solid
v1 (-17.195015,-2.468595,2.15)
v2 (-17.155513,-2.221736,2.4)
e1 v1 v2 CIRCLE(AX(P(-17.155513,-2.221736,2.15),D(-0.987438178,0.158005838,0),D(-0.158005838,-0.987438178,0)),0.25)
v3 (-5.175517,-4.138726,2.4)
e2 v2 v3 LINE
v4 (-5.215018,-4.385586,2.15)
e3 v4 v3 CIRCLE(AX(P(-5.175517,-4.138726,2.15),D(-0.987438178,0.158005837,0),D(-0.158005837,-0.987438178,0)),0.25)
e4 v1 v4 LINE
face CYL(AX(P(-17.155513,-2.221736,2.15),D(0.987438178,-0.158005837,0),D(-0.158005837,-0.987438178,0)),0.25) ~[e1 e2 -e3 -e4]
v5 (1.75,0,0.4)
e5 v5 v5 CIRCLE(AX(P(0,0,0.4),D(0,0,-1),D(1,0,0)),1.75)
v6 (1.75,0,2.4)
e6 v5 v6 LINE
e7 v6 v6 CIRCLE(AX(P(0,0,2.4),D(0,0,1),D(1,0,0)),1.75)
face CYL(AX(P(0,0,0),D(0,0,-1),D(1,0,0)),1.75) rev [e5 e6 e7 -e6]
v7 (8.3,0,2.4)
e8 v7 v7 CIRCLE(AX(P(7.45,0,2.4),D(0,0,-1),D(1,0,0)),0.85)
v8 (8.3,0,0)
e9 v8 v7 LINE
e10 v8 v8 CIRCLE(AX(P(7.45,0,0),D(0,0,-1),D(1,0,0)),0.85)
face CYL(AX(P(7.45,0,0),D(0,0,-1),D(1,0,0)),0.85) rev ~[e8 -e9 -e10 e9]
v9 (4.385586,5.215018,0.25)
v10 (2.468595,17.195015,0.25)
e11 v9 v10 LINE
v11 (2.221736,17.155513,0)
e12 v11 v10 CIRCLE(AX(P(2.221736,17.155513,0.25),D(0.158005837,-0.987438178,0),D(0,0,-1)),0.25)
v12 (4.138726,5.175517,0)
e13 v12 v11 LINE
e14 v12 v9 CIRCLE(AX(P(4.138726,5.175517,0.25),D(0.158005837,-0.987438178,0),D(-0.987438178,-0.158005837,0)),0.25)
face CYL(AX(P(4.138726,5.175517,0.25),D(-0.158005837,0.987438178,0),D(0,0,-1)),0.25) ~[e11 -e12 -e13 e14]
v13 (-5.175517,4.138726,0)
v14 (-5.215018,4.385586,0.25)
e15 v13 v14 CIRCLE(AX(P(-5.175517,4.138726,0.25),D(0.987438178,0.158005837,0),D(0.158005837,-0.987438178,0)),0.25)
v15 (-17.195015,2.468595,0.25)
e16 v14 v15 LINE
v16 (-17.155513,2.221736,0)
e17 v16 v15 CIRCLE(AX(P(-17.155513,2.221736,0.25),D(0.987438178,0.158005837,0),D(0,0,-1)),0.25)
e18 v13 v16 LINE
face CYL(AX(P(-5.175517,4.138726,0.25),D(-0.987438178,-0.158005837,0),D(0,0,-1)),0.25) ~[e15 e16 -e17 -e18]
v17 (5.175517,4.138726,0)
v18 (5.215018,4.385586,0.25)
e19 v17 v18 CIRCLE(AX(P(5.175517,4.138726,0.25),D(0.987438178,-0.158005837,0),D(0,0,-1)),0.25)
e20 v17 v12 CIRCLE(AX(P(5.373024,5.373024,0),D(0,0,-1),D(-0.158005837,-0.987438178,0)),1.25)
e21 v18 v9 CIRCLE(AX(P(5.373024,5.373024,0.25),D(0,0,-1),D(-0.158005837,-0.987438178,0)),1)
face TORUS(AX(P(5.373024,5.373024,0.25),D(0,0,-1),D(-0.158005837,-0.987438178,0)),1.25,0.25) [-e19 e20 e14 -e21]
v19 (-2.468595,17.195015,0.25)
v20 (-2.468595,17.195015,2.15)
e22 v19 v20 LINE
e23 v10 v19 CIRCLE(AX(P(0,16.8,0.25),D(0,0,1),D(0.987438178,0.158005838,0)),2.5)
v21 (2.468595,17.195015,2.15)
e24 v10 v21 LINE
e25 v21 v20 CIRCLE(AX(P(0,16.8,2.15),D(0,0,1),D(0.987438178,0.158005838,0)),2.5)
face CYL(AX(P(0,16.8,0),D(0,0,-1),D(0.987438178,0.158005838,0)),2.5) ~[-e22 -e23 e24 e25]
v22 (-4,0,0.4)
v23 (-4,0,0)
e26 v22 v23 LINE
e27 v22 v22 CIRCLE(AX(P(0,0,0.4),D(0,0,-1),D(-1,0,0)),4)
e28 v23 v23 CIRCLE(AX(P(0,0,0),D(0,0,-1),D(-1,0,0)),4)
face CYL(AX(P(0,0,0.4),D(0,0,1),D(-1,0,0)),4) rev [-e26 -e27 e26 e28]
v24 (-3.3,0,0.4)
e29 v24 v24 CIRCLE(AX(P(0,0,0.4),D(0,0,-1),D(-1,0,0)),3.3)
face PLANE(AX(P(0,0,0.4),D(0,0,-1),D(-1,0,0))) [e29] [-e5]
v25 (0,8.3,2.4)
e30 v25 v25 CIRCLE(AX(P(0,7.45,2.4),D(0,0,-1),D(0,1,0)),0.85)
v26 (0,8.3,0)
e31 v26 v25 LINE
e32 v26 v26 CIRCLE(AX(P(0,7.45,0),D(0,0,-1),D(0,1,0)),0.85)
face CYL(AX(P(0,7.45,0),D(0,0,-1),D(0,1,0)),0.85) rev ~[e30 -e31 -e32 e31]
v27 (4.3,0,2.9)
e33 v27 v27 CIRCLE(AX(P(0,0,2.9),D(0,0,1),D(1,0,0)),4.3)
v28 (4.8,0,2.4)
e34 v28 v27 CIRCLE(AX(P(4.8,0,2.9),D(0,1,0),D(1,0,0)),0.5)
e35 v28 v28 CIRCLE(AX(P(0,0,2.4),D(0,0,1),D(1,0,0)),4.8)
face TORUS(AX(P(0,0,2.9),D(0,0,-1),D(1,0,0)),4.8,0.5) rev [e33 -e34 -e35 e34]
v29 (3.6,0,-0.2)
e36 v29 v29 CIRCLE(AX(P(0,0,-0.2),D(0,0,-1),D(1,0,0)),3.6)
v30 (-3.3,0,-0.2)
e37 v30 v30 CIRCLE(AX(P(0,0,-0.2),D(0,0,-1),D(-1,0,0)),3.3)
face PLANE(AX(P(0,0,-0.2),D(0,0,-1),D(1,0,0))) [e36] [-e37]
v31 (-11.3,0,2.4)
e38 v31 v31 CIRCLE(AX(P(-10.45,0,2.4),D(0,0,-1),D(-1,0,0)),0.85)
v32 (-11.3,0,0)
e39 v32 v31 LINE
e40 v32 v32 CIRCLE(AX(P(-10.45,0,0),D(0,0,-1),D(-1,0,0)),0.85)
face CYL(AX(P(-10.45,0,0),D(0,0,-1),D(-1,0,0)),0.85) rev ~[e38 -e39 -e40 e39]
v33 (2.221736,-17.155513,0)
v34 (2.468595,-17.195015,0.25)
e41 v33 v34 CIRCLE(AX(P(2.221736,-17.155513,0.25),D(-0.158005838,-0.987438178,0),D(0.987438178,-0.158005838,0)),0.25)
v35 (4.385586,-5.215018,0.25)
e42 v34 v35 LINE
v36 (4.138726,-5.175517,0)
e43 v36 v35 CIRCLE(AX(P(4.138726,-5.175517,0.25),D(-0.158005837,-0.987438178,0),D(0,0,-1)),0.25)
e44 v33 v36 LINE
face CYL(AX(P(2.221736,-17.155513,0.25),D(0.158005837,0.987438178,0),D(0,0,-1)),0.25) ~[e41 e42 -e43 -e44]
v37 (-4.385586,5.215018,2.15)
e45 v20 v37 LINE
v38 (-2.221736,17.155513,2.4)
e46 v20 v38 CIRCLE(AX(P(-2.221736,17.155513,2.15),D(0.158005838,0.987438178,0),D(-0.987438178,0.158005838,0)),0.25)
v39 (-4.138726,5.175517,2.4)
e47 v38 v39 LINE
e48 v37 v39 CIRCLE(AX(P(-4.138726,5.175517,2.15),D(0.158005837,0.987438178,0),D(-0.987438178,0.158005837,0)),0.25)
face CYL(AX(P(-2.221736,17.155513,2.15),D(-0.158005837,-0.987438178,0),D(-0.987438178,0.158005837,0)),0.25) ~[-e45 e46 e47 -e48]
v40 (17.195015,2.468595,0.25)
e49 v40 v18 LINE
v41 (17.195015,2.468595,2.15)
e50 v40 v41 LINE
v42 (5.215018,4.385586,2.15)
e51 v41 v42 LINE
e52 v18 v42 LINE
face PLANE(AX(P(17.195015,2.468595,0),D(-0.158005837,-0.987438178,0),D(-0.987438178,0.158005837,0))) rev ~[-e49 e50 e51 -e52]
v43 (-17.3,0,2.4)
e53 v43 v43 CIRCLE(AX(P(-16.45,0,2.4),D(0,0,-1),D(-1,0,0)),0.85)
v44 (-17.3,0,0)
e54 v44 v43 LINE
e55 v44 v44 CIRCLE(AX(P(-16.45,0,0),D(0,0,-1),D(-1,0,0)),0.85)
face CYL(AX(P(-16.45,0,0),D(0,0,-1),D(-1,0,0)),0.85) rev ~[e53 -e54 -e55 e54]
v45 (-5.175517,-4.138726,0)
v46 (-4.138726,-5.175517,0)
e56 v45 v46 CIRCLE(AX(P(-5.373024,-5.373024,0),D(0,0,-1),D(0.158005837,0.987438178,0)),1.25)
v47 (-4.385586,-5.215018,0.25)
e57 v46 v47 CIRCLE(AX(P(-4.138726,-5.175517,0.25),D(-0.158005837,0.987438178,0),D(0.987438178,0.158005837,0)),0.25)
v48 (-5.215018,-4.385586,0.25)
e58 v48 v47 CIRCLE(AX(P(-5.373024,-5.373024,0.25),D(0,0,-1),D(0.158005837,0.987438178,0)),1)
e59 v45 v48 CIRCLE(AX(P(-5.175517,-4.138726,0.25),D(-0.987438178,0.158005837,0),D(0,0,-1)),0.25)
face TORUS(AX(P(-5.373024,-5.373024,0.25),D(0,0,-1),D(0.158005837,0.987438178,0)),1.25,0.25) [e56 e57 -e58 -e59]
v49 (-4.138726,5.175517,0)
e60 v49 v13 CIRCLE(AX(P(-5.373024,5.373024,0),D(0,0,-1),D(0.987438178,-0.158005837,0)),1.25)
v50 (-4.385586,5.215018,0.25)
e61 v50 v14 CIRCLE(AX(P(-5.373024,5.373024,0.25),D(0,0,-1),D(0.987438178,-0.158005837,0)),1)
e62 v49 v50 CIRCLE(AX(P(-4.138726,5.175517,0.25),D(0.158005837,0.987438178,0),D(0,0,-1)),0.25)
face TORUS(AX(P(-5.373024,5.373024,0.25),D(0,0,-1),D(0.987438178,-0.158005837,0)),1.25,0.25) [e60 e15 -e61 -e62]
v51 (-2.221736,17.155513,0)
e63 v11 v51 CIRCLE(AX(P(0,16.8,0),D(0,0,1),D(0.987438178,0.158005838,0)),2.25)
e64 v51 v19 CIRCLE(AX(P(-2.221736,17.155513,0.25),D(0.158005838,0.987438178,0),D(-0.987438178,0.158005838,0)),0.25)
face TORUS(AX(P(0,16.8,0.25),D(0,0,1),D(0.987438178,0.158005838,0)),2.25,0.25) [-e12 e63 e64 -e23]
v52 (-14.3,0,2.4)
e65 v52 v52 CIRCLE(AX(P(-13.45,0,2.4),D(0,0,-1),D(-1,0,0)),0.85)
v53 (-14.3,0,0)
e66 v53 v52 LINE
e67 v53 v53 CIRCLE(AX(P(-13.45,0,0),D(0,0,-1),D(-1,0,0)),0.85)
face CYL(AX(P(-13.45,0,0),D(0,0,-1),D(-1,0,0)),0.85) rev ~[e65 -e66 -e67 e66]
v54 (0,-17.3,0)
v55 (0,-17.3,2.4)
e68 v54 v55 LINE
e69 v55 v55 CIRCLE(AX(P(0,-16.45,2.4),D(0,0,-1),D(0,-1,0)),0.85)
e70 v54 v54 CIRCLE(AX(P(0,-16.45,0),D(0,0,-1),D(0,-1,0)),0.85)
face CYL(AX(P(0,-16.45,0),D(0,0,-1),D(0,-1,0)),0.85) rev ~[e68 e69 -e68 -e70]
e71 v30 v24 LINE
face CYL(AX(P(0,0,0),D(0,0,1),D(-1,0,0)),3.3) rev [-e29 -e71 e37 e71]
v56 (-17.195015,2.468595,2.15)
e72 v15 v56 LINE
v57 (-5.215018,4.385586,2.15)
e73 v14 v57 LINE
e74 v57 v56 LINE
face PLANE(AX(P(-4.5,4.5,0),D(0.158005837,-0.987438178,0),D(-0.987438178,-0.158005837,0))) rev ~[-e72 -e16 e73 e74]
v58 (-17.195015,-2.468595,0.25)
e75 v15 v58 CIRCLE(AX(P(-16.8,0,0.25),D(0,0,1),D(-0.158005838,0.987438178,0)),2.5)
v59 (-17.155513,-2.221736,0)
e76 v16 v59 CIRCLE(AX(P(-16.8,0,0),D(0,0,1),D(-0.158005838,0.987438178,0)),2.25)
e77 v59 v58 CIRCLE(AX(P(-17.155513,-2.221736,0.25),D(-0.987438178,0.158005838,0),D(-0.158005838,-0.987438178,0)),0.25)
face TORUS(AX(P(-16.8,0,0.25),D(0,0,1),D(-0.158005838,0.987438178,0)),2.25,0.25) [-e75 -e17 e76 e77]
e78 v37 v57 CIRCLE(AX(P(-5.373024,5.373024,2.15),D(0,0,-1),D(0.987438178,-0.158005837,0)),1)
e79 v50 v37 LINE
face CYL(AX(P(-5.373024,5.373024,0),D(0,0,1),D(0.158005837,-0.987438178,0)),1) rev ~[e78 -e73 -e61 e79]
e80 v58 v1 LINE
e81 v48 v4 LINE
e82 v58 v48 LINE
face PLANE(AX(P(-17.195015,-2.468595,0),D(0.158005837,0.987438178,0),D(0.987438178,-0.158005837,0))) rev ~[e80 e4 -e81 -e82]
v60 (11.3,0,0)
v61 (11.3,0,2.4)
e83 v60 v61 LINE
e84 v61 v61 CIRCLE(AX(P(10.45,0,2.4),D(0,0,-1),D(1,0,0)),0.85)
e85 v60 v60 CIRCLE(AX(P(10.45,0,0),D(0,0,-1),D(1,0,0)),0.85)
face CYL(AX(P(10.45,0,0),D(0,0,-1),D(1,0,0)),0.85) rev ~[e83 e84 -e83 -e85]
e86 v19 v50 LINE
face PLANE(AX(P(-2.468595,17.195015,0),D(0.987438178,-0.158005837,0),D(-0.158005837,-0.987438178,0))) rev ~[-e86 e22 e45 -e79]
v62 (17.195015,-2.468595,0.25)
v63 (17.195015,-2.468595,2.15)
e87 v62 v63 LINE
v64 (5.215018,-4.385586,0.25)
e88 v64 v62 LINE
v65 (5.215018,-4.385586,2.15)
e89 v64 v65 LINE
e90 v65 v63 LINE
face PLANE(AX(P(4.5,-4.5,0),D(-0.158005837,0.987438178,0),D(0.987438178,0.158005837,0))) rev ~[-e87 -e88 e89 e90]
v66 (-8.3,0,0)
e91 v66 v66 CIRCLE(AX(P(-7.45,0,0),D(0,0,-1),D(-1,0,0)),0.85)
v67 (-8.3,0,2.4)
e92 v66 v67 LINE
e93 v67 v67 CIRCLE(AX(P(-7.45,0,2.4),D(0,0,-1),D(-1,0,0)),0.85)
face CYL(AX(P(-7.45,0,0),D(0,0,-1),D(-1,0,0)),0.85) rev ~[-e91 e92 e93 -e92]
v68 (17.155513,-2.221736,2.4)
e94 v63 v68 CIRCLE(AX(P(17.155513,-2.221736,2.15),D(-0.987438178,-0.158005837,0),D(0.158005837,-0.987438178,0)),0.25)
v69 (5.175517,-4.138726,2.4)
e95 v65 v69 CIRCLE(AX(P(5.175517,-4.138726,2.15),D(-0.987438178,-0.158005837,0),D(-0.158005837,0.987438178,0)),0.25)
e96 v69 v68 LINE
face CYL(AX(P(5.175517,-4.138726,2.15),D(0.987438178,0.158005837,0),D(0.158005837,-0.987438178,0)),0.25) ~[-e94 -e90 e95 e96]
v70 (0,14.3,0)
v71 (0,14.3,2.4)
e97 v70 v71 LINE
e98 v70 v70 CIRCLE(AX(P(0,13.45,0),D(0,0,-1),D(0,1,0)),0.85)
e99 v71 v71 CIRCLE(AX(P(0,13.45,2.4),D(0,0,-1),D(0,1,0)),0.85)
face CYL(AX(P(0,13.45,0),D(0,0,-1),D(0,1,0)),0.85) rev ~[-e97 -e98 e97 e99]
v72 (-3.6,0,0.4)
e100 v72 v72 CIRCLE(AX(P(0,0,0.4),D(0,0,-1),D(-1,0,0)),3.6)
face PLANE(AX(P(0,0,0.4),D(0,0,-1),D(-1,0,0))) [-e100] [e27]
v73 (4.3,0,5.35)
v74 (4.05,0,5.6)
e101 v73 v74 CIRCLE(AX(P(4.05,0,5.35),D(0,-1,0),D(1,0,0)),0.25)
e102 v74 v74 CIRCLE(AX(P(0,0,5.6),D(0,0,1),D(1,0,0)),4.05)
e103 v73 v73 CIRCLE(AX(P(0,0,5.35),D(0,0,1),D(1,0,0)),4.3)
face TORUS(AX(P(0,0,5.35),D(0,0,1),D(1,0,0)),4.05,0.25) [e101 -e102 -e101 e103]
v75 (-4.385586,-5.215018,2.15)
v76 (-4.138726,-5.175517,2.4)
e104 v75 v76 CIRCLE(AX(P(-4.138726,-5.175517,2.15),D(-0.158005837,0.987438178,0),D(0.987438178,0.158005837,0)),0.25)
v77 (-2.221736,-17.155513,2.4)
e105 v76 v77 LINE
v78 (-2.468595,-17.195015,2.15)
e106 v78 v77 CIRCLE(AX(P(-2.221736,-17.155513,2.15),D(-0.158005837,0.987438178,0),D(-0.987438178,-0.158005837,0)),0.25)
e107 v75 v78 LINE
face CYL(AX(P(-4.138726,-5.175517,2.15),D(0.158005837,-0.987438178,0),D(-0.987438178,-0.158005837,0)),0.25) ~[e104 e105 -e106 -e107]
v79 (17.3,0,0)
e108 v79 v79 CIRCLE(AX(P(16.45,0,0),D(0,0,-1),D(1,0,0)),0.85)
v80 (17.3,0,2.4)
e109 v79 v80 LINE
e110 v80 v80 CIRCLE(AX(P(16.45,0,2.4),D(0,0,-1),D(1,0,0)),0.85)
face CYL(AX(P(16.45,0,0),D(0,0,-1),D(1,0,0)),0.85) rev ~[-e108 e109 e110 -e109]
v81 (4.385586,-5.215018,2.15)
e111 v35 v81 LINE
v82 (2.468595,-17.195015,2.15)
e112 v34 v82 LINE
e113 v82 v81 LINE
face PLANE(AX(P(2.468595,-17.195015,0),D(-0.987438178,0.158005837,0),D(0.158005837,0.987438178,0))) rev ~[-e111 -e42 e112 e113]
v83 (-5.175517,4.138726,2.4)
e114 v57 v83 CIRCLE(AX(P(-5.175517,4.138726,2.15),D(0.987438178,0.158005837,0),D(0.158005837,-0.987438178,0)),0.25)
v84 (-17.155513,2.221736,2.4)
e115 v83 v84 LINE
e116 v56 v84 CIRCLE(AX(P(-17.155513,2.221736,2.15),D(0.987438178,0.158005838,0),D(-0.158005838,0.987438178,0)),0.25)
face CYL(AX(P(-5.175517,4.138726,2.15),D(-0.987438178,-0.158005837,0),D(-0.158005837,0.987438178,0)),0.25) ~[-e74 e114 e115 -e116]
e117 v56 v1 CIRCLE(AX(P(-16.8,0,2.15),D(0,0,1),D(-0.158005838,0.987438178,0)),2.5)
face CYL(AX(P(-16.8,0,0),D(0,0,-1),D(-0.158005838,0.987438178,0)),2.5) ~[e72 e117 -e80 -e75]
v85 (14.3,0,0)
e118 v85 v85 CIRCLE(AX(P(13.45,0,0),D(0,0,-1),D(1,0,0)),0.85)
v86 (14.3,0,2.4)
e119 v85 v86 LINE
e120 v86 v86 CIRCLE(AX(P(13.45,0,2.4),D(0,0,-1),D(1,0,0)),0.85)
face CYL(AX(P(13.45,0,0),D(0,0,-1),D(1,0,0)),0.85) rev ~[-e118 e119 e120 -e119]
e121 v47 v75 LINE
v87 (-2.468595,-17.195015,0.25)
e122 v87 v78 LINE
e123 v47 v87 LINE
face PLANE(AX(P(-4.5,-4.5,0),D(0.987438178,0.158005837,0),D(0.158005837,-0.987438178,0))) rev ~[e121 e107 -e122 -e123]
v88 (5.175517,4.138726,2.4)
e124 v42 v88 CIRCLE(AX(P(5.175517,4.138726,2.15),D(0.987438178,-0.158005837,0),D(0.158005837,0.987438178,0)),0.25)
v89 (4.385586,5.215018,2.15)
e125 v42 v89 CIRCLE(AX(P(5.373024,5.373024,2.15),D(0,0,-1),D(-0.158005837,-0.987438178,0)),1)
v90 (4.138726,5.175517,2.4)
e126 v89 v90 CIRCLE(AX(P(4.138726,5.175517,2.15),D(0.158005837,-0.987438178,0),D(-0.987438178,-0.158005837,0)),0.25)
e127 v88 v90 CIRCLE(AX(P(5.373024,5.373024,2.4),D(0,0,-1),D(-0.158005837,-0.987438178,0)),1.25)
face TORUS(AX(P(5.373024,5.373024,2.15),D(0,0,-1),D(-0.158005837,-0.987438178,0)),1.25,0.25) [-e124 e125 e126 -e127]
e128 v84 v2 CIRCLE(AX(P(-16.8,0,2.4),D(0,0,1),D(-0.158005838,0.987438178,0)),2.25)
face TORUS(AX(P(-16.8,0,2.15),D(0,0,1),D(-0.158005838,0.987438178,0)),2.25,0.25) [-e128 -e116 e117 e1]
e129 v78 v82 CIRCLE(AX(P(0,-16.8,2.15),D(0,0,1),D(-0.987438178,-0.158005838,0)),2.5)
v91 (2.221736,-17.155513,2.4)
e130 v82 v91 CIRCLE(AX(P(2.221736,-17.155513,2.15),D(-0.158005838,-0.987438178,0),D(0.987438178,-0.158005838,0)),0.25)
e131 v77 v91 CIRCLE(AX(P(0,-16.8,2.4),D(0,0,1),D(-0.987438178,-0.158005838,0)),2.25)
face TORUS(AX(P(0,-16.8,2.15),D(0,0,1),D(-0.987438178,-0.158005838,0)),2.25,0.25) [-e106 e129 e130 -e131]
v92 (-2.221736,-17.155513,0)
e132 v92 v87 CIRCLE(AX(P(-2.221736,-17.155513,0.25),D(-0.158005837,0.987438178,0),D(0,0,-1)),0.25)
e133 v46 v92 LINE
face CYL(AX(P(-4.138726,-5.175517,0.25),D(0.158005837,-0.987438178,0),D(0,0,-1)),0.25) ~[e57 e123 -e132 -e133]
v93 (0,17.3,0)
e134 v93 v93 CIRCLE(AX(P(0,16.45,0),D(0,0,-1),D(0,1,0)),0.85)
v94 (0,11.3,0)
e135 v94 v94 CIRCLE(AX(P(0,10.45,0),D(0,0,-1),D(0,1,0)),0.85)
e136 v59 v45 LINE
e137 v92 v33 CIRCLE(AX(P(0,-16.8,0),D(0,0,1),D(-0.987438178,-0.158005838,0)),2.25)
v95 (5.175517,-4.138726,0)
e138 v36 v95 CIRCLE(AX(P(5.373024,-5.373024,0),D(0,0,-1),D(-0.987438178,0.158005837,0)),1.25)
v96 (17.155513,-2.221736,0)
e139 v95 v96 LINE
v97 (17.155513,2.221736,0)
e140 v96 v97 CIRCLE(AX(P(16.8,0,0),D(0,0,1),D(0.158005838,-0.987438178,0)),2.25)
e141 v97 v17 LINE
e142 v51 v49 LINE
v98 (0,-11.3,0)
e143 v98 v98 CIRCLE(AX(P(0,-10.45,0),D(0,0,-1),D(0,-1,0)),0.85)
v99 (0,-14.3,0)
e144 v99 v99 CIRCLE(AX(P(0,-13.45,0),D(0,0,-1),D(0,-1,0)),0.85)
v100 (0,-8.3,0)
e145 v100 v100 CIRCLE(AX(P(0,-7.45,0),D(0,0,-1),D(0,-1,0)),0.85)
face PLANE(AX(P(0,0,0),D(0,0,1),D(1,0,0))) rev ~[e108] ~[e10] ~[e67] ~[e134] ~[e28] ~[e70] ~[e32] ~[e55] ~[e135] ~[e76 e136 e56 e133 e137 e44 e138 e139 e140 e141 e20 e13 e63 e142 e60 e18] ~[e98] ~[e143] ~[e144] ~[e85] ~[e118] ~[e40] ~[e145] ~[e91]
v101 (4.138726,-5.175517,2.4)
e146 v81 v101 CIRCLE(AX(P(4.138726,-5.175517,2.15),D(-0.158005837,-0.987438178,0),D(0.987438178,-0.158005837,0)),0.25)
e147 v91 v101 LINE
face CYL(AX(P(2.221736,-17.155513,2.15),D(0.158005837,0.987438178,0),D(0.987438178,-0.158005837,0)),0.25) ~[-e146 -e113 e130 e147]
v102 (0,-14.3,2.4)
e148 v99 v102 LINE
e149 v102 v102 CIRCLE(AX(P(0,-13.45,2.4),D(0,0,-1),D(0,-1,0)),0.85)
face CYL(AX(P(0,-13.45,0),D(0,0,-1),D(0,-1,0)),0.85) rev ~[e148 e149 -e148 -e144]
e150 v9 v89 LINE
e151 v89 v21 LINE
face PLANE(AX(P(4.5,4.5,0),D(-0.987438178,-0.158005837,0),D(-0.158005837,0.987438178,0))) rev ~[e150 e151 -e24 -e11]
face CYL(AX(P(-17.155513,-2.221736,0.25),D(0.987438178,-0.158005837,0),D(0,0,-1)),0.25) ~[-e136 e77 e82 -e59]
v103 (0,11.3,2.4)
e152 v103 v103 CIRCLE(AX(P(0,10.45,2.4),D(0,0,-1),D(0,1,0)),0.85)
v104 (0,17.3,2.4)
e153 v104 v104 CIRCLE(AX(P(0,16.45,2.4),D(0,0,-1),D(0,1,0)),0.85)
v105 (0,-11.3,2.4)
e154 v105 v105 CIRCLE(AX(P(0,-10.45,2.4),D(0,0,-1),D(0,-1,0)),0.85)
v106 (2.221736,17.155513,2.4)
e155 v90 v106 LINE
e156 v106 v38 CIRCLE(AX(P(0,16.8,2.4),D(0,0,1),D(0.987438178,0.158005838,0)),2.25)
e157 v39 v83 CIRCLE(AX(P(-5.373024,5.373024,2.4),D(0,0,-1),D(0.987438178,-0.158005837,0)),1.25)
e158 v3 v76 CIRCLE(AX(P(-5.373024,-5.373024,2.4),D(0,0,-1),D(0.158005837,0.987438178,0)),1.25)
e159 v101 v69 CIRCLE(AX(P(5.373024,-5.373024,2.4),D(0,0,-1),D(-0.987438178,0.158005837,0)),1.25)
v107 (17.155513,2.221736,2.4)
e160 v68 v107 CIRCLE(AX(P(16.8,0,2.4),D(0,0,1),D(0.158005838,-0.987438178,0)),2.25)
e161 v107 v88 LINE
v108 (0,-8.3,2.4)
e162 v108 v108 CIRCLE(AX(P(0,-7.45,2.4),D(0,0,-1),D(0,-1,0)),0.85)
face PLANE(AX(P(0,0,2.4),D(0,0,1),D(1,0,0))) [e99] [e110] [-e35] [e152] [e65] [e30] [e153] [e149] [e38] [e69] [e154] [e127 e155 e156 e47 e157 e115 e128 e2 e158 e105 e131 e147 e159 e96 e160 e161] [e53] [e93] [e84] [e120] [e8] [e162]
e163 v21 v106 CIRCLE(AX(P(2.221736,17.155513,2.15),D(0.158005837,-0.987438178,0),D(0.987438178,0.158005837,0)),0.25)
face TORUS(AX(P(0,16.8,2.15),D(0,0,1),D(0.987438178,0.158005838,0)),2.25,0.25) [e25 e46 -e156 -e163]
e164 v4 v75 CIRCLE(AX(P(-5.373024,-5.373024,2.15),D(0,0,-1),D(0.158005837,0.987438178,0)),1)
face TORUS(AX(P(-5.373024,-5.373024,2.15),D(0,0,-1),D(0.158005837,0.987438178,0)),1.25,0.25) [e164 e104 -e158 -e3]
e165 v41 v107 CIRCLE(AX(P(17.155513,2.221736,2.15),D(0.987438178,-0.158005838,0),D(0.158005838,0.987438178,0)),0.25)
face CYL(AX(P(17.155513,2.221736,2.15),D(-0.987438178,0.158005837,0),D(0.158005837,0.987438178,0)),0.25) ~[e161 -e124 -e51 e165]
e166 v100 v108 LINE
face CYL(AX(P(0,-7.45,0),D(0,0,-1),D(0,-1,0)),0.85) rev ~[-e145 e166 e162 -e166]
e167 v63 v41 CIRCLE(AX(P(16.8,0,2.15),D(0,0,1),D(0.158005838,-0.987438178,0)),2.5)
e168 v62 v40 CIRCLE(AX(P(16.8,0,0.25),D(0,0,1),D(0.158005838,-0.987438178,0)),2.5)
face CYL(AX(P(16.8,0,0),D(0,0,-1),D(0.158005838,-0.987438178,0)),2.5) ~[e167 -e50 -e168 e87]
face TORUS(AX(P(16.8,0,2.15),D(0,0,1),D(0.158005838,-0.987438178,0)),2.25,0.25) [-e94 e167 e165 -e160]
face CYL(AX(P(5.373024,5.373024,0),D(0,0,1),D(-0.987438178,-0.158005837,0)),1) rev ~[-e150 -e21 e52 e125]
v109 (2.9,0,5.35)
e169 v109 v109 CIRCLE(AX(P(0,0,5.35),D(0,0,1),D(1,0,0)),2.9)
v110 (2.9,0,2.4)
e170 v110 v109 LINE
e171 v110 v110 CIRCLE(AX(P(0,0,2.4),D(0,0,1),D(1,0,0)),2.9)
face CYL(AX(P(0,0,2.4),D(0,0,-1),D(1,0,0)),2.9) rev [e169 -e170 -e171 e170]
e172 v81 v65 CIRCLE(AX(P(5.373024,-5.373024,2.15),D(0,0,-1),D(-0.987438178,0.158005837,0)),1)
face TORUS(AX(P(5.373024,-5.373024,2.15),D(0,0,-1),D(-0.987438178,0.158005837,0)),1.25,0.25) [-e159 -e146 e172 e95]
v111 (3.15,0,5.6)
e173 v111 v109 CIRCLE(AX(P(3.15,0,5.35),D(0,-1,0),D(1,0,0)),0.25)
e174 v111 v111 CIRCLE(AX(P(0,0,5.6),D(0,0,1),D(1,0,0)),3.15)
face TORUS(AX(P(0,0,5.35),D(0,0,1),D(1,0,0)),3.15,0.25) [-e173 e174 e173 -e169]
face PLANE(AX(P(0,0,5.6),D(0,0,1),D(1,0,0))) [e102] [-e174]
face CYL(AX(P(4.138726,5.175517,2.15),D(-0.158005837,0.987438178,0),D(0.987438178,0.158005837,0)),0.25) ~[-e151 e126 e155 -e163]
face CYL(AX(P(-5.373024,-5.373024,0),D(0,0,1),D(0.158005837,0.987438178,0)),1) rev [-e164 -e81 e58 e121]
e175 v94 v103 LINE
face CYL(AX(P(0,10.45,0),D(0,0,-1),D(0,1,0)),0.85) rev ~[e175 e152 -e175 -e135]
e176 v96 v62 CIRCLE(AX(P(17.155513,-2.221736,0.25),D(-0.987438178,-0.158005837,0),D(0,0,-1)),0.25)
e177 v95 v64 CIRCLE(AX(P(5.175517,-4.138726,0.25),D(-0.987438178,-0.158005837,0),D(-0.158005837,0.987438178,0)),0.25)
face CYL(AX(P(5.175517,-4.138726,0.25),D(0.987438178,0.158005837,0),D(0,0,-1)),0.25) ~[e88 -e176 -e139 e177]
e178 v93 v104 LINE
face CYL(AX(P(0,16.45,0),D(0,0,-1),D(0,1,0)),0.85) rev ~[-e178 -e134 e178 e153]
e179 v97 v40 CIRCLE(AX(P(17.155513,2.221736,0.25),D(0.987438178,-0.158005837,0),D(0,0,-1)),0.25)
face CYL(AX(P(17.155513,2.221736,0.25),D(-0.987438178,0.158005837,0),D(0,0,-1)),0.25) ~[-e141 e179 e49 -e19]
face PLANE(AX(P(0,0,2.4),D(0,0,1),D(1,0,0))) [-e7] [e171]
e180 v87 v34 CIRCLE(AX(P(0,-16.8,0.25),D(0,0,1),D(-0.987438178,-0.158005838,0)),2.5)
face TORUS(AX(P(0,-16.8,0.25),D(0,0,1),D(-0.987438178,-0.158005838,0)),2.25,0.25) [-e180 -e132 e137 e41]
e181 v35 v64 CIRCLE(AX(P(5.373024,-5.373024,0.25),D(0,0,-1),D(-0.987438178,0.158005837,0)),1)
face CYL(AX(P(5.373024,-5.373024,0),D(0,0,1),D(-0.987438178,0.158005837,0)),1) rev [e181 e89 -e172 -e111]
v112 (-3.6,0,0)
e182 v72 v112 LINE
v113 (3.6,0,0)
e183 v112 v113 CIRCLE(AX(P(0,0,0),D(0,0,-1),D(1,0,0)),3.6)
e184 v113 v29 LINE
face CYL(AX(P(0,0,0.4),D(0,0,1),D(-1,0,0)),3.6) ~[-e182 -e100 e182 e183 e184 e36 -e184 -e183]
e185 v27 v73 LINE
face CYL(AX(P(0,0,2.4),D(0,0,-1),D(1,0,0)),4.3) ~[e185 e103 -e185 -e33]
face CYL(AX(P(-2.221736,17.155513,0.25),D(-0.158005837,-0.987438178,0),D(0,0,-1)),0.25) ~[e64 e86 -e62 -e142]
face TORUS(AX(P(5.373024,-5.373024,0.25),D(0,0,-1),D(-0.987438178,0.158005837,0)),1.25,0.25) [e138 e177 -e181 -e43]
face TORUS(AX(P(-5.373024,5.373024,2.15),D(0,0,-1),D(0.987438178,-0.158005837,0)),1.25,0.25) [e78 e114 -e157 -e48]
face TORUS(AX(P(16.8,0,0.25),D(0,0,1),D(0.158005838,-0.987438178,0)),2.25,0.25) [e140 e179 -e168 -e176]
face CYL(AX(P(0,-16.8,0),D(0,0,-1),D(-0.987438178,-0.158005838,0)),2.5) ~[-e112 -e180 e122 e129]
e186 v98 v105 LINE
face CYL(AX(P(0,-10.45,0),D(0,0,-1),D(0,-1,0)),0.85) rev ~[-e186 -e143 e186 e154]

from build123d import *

# Parameters (mm, degrees)
SKETCH1_R                   = 1.75
BOSS_EXTRUDE1_DEPTH         = 2.4
SKETCH2_R                   = 4.3
SKETCH2_R_2                 = 2.9
BOSS_EXTRUDE2_DEPTH         = 3.2
SKETCH4_R                   = 3.6
SKETCH4_R_2                 = 3.3
BOSS_EXTRUDE3_DEPTH         = 0.2
CUT_EXTRUDE2_START          = -0.4
SKETCH5_R                   = 4
SKETCH5_R_2                 = 3.6
SKETCH5_R_3                 = 3.3
CUT_EXTRUDE2_DEPTH          = 0.4
SKETCH6_R                   = 0.85
CUT_EXTRUDE3_DEPTH          = 28.86287853
LPATTERN1_COUNT             = 4
LPATTERN1_PITCH             = 3
CIRPATTERN1_COUNT           = 4
CIRPATTERN1_COPY_1_SKETCH_R = 0.85
CIRPATTERN1_COPY_1_DEPTH    = 28.86287853
CIRPATTERN1_COPY_2_SKETCH_R = 0.85
CIRPATTERN1_COPY_2_DEPTH    = 28.86287853
CIRPATTERN1_COPY_3_SKETCH_R = 0.85
CIRPATTERN1_COPY_3_DEPTH    = 28.86287853
CIRPATTERN1_COPY_4_SKETCH_R = 0.85
CIRPATTERN1_COPY_4_DEPTH    = 28.86287853
CIRPATTERN1_COPY_5_SKETCH_R = 0.85
CIRPATTERN1_COPY_5_DEPTH    = 28.86287853
CIRPATTERN1_COPY_6_SKETCH_R = 0.85
CIRPATTERN1_COPY_6_DEPTH    = 28.86287853
CIRPATTERN1_COPY_7_SKETCH_R = 0.85
CIRPATTERN1_COPY_7_DEPTH    = 28.86287853
CIRPATTERN1_COPY_8_SKETCH_R = 0.85
CIRPATTERN1_COPY_8_DEPTH    = 28.86287853
CIRPATTERN1_COPY_9_SKETCH_R = 0.85
CIRPATTERN1_COPY_9_DEPTH    = 28.86287853
FILLET3_R                   = 1
FILLET1_R                   = 0.25
FILLET2_R                   = 0.5


with BuildPart() as part:
    # Sketch1 → Boss-Extrude1 (new body)
    with BuildSketch(Plane.XY):
        with BuildLine():
            Line((-4.5, 4.5), (-17.195014594, 2.468595445))
            ThreePointArc((-17.195014594, 2.468595445), (-19.3, 0), (-17.195014594, -2.468595445))
            Line((-17.195014594, -2.468595445), (-4.5, -4.5))
            Line((-4.5, -4.5), (-2.468595445, -17.195014594))
            ThreePointArc((-2.468595445, -17.195014594), (0, -19.3), (2.468595445, -17.195014594))
            Line((2.468595445, -17.195014594), (4.5, -4.5))
            Line((4.5, -4.5), (17.195014594, -2.468595445))
            ThreePointArc((17.195014594, -2.468595445), (19.3, 0), (17.195014594, 2.468595445))
            Line((17.195014594, 2.468595445), (4.5, 4.5))
            Line((4.5, 4.5), (2.468595445, 17.195014594))
            ThreePointArc((2.468595445, 17.195014594), (0, 19.3), (-2.468595445, 17.195014594))
            Line((-2.468595445, 17.195014594), (-4.5, 4.5))
        make_face()
        Circle(SKETCH1_R, mode=Mode.SUBTRACT)
    extrude(amount=BOSS_EXTRUDE1_DEPTH)

    # Sketch2 → Boss-Extrude2 (add)
    with BuildSketch(Plane.XY.offset(2.4)):
        Circle(SKETCH2_R)
        Circle(SKETCH2_R_2, mode=Mode.SUBTRACT)
    extrude(amount=BOSS_EXTRUDE2_DEPTH)

    # Sketch4 → Boss-Extrude3 (add)
    with BuildSketch(Plane(origin=(0, 0, 0), x_dir=(-1, 0, 0), z_dir=(0, 0, -1))):
        with Locations(Location((0, 0, 0), (0, 0, 180))):
            Circle(SKETCH4_R)
        Circle(SKETCH4_R_2, mode=Mode.SUBTRACT)
    extrude(amount=BOSS_EXTRUDE3_DEPTH)

    # Sketch5 → Cut-Extrude2 (cut)
    # profile 1 of 2: a face of its own
    with BuildSketch(Plane(origin=(0, 0, 0), x_dir=(-1, 0, 0), z_dir=(0, 0, -1)).offset(CUT_EXTRUDE2_START)):
        Circle(SKETCH5_R)
        Circle(SKETCH5_R_2, mode=Mode.SUBTRACT)
    # profile 2 of 2: a face of its own
    with BuildSketch(Plane(origin=(0, 0, 0), x_dir=(-1, 0, 0), z_dir=(0, 0, -1)).offset(CUT_EXTRUDE2_START)):
        Circle(SKETCH5_R_3)
    extrude(amount=CUT_EXTRUDE2_DEPTH, mode=Mode.SUBTRACT)

    # Sketch6 → Cut-Extrude3 (cut, through all)
    with BuildSketch(Plane(origin=(0, 0, 0), x_dir=(-1, 0, 0), z_dir=(0, 0, -1))):
        with Locations((7.45, 0)):
            Circle(SKETCH6_R)
    cut_extrude3 = extrude(amount=-CUT_EXTRUDE3_DEPTH, mode=Mode.SUBTRACT)

    # LPattern1: Cut-Extrude3 ×4
    with Locations(*[(-i * LPATTERN1_PITCH, 0, 0) for i in range(1, LPATTERN1_COUNT)]):
        add(cut_extrude3, mode=Mode.SUBTRACT)

    # CirPattern1: Cut-Extrude3 ×4 about axis
    cirpattern1_axis = Axis((0, 0, 0), (0, 0, 1))
    for i in range(1, CIRPATTERN1_COUNT):
        add(cut_extrude3.rotate(cirpattern1_axis, i * 360 / CIRPATTERN1_COUNT), mode=Mode.SUBTRACT)

    # CirPattern1 copy 1 sketch → CirPattern1 copy 1 (cut, through all)
    with BuildSketch(Plane(origin=(0, -3, 0), x_dir=(0, -1, 0), z_dir=(0, 0, -1))):
        with Locations((7.45, 0)):
            Circle(CIRPATTERN1_COPY_1_SKETCH_R)
    extrude(amount=-CIRPATTERN1_COPY_1_DEPTH, mode=Mode.SUBTRACT)

    # CirPattern1 copy 2 sketch → CirPattern1 copy 2 (cut, through all)
    with BuildSketch(Plane(origin=(3, 0, 0), x_dir=(1, 0, 0), z_dir=(0, 0, -1))):
        with Locations((7.45, 0)):
            Circle(CIRPATTERN1_COPY_2_SKETCH_R)
    extrude(amount=-CIRPATTERN1_COPY_2_DEPTH, mode=Mode.SUBTRACT)

    # CirPattern1 copy 3 sketch → CirPattern1 copy 3 (cut, through all)
    with BuildSketch(Plane(origin=(0, 3, 0), x_dir=(0, 1, 0), z_dir=(0, 0, -1))):
        with Locations((7.45, 0)):
            Circle(CIRPATTERN1_COPY_3_SKETCH_R)
    extrude(amount=-CIRPATTERN1_COPY_3_DEPTH, mode=Mode.SUBTRACT)

    # CirPattern1 copy 4 sketch → CirPattern1 copy 4 (cut, through all)
    with BuildSketch(Plane(origin=(0, -6, 0), x_dir=(0, -1, 0), z_dir=(0, 0, -1))):
        with Locations((7.45, 0)):
            Circle(CIRPATTERN1_COPY_4_SKETCH_R)
    extrude(amount=-CIRPATTERN1_COPY_4_DEPTH, mode=Mode.SUBTRACT)

    # CirPattern1 copy 5 sketch → CirPattern1 copy 5 (cut, through all)
    with BuildSketch(Plane(origin=(6, 0, 0), x_dir=(1, 0, 0), z_dir=(0, 0, -1))):
        with Locations((7.45, 0)):
            Circle(CIRPATTERN1_COPY_5_SKETCH_R)
    extrude(amount=-CIRPATTERN1_COPY_5_DEPTH, mode=Mode.SUBTRACT)

    # CirPattern1 copy 6 sketch → CirPattern1 copy 6 (cut, through all)
    with BuildSketch(Plane(origin=(0, 6, 0), x_dir=(0, 1, 0), z_dir=(0, 0, -1))):
        with Locations((7.45, 0)):
            Circle(CIRPATTERN1_COPY_6_SKETCH_R)
    extrude(amount=-CIRPATTERN1_COPY_6_DEPTH, mode=Mode.SUBTRACT)

    # CirPattern1 copy 7 sketch → CirPattern1 copy 7 (cut, through all)
    with BuildSketch(Plane(origin=(0, -9, 0), x_dir=(0, -1, 0), z_dir=(0, 0, -1))):
        with Locations((7.45, 0)):
            Circle(CIRPATTERN1_COPY_7_SKETCH_R)
    extrude(amount=-CIRPATTERN1_COPY_7_DEPTH, mode=Mode.SUBTRACT)

    # CirPattern1 copy 8 sketch → CirPattern1 copy 8 (cut, through all)
    with BuildSketch(Plane(origin=(9, 0, 0), x_dir=(1, 0, 0), z_dir=(0, 0, -1))):
        with Locations((7.45, 0)):
            Circle(CIRPATTERN1_COPY_8_SKETCH_R)
    extrude(amount=-CIRPATTERN1_COPY_8_DEPTH, mode=Mode.SUBTRACT)

    # CirPattern1 copy 9 sketch → CirPattern1 copy 9 (cut, through all)
    with BuildSketch(Plane(origin=(0, 9, 0), x_dir=(0, 1, 0), z_dir=(0, 0, -1))):
        with Locations((7.45, 0)):
            Circle(CIRPATTERN1_COPY_9_SKETCH_R)
    extrude(amount=-CIRPATTERN1_COPY_9_DEPTH, mode=Mode.SUBTRACT)

    # Fillet3
    fillet3_edges = [part.edges().sort_by_distance(p)[0] for p in [
        (4.5, 4.5, 1.2),
        (4.5, -4.5, 1.2),
        (-4.5, -4.5, 1.2),
        (-4.5, 4.5, 1.2),
    ]]
    fillet(fillet3_edges, radius=FILLET3_R)

    # Fillet1
    fillet1_edges = [part.edges().sort_by_distance(p)[0] for p in [
        (11.205016327, 3.427090583, 0),
        (19.3, 0, 0),
        (3.427090583, -11.205016327, 0),
        (0, -19.3, 0),
        (-19.3, 0, 2.4),
        (-11.205016327, -3.427090583, 0),
        (-19.3, 0, 0),
        (-3.427090583, -11.205016327, 0),
        (-3.427090583, 11.205016327, 0),
        (-3.427090583, -11.205016327, 2.4),
        (11.205016327, -3.427090583, 0),
        (11.205016327, -3.427090583, 2.4),
        (0, 19.3, 0),
        (3.427090583, 11.205016327, 0),
        (3.427090583, 11.205016327, 2.4),
        (-11.205016327, 3.427090583, 0),
        (-11.205016327, 3.427090583, 2.4),
        (-4.665917117, -4.665917117, 0),
        (-4.665917117, -4.665917117, 2.4),
        (4.665917117, -4.665917117, 0),
        (4.665917117, -4.665917117, 2.4),
        (4.665917117, 4.665917117, 0),
        (4.665917117, 4.665917117, 2.4),
        (-4.665917117, 4.665917117, 0),
        (-11.205016327, -3.427090583, 2.4),
        (-4.665917117, 4.665917117, 2.4),
        (0, -19.3, 2.4),
        (3.427090583, -11.205016327, 2.4),
        (19.3, 0, 2.4),
        (11.205016327, 3.427090583, 2.4),
        (-4.3, 0, 5.6),
        (0, 19.3, 2.4),
        (-2.9, 0, 5.6),
        (-3.427090583, 11.205016327, 2.4),
    ]]
    fillet(fillet1_edges, radius=FILLET1_R)

    # Fillet2
    fillet2_edges = [part.edges().sort_by_distance(p)[0] for p in [
        (-4.3, 0, 2.4),
    ]]
    fillet(fillet2_edges, radius=FILLET2_R)


solid = part.part
